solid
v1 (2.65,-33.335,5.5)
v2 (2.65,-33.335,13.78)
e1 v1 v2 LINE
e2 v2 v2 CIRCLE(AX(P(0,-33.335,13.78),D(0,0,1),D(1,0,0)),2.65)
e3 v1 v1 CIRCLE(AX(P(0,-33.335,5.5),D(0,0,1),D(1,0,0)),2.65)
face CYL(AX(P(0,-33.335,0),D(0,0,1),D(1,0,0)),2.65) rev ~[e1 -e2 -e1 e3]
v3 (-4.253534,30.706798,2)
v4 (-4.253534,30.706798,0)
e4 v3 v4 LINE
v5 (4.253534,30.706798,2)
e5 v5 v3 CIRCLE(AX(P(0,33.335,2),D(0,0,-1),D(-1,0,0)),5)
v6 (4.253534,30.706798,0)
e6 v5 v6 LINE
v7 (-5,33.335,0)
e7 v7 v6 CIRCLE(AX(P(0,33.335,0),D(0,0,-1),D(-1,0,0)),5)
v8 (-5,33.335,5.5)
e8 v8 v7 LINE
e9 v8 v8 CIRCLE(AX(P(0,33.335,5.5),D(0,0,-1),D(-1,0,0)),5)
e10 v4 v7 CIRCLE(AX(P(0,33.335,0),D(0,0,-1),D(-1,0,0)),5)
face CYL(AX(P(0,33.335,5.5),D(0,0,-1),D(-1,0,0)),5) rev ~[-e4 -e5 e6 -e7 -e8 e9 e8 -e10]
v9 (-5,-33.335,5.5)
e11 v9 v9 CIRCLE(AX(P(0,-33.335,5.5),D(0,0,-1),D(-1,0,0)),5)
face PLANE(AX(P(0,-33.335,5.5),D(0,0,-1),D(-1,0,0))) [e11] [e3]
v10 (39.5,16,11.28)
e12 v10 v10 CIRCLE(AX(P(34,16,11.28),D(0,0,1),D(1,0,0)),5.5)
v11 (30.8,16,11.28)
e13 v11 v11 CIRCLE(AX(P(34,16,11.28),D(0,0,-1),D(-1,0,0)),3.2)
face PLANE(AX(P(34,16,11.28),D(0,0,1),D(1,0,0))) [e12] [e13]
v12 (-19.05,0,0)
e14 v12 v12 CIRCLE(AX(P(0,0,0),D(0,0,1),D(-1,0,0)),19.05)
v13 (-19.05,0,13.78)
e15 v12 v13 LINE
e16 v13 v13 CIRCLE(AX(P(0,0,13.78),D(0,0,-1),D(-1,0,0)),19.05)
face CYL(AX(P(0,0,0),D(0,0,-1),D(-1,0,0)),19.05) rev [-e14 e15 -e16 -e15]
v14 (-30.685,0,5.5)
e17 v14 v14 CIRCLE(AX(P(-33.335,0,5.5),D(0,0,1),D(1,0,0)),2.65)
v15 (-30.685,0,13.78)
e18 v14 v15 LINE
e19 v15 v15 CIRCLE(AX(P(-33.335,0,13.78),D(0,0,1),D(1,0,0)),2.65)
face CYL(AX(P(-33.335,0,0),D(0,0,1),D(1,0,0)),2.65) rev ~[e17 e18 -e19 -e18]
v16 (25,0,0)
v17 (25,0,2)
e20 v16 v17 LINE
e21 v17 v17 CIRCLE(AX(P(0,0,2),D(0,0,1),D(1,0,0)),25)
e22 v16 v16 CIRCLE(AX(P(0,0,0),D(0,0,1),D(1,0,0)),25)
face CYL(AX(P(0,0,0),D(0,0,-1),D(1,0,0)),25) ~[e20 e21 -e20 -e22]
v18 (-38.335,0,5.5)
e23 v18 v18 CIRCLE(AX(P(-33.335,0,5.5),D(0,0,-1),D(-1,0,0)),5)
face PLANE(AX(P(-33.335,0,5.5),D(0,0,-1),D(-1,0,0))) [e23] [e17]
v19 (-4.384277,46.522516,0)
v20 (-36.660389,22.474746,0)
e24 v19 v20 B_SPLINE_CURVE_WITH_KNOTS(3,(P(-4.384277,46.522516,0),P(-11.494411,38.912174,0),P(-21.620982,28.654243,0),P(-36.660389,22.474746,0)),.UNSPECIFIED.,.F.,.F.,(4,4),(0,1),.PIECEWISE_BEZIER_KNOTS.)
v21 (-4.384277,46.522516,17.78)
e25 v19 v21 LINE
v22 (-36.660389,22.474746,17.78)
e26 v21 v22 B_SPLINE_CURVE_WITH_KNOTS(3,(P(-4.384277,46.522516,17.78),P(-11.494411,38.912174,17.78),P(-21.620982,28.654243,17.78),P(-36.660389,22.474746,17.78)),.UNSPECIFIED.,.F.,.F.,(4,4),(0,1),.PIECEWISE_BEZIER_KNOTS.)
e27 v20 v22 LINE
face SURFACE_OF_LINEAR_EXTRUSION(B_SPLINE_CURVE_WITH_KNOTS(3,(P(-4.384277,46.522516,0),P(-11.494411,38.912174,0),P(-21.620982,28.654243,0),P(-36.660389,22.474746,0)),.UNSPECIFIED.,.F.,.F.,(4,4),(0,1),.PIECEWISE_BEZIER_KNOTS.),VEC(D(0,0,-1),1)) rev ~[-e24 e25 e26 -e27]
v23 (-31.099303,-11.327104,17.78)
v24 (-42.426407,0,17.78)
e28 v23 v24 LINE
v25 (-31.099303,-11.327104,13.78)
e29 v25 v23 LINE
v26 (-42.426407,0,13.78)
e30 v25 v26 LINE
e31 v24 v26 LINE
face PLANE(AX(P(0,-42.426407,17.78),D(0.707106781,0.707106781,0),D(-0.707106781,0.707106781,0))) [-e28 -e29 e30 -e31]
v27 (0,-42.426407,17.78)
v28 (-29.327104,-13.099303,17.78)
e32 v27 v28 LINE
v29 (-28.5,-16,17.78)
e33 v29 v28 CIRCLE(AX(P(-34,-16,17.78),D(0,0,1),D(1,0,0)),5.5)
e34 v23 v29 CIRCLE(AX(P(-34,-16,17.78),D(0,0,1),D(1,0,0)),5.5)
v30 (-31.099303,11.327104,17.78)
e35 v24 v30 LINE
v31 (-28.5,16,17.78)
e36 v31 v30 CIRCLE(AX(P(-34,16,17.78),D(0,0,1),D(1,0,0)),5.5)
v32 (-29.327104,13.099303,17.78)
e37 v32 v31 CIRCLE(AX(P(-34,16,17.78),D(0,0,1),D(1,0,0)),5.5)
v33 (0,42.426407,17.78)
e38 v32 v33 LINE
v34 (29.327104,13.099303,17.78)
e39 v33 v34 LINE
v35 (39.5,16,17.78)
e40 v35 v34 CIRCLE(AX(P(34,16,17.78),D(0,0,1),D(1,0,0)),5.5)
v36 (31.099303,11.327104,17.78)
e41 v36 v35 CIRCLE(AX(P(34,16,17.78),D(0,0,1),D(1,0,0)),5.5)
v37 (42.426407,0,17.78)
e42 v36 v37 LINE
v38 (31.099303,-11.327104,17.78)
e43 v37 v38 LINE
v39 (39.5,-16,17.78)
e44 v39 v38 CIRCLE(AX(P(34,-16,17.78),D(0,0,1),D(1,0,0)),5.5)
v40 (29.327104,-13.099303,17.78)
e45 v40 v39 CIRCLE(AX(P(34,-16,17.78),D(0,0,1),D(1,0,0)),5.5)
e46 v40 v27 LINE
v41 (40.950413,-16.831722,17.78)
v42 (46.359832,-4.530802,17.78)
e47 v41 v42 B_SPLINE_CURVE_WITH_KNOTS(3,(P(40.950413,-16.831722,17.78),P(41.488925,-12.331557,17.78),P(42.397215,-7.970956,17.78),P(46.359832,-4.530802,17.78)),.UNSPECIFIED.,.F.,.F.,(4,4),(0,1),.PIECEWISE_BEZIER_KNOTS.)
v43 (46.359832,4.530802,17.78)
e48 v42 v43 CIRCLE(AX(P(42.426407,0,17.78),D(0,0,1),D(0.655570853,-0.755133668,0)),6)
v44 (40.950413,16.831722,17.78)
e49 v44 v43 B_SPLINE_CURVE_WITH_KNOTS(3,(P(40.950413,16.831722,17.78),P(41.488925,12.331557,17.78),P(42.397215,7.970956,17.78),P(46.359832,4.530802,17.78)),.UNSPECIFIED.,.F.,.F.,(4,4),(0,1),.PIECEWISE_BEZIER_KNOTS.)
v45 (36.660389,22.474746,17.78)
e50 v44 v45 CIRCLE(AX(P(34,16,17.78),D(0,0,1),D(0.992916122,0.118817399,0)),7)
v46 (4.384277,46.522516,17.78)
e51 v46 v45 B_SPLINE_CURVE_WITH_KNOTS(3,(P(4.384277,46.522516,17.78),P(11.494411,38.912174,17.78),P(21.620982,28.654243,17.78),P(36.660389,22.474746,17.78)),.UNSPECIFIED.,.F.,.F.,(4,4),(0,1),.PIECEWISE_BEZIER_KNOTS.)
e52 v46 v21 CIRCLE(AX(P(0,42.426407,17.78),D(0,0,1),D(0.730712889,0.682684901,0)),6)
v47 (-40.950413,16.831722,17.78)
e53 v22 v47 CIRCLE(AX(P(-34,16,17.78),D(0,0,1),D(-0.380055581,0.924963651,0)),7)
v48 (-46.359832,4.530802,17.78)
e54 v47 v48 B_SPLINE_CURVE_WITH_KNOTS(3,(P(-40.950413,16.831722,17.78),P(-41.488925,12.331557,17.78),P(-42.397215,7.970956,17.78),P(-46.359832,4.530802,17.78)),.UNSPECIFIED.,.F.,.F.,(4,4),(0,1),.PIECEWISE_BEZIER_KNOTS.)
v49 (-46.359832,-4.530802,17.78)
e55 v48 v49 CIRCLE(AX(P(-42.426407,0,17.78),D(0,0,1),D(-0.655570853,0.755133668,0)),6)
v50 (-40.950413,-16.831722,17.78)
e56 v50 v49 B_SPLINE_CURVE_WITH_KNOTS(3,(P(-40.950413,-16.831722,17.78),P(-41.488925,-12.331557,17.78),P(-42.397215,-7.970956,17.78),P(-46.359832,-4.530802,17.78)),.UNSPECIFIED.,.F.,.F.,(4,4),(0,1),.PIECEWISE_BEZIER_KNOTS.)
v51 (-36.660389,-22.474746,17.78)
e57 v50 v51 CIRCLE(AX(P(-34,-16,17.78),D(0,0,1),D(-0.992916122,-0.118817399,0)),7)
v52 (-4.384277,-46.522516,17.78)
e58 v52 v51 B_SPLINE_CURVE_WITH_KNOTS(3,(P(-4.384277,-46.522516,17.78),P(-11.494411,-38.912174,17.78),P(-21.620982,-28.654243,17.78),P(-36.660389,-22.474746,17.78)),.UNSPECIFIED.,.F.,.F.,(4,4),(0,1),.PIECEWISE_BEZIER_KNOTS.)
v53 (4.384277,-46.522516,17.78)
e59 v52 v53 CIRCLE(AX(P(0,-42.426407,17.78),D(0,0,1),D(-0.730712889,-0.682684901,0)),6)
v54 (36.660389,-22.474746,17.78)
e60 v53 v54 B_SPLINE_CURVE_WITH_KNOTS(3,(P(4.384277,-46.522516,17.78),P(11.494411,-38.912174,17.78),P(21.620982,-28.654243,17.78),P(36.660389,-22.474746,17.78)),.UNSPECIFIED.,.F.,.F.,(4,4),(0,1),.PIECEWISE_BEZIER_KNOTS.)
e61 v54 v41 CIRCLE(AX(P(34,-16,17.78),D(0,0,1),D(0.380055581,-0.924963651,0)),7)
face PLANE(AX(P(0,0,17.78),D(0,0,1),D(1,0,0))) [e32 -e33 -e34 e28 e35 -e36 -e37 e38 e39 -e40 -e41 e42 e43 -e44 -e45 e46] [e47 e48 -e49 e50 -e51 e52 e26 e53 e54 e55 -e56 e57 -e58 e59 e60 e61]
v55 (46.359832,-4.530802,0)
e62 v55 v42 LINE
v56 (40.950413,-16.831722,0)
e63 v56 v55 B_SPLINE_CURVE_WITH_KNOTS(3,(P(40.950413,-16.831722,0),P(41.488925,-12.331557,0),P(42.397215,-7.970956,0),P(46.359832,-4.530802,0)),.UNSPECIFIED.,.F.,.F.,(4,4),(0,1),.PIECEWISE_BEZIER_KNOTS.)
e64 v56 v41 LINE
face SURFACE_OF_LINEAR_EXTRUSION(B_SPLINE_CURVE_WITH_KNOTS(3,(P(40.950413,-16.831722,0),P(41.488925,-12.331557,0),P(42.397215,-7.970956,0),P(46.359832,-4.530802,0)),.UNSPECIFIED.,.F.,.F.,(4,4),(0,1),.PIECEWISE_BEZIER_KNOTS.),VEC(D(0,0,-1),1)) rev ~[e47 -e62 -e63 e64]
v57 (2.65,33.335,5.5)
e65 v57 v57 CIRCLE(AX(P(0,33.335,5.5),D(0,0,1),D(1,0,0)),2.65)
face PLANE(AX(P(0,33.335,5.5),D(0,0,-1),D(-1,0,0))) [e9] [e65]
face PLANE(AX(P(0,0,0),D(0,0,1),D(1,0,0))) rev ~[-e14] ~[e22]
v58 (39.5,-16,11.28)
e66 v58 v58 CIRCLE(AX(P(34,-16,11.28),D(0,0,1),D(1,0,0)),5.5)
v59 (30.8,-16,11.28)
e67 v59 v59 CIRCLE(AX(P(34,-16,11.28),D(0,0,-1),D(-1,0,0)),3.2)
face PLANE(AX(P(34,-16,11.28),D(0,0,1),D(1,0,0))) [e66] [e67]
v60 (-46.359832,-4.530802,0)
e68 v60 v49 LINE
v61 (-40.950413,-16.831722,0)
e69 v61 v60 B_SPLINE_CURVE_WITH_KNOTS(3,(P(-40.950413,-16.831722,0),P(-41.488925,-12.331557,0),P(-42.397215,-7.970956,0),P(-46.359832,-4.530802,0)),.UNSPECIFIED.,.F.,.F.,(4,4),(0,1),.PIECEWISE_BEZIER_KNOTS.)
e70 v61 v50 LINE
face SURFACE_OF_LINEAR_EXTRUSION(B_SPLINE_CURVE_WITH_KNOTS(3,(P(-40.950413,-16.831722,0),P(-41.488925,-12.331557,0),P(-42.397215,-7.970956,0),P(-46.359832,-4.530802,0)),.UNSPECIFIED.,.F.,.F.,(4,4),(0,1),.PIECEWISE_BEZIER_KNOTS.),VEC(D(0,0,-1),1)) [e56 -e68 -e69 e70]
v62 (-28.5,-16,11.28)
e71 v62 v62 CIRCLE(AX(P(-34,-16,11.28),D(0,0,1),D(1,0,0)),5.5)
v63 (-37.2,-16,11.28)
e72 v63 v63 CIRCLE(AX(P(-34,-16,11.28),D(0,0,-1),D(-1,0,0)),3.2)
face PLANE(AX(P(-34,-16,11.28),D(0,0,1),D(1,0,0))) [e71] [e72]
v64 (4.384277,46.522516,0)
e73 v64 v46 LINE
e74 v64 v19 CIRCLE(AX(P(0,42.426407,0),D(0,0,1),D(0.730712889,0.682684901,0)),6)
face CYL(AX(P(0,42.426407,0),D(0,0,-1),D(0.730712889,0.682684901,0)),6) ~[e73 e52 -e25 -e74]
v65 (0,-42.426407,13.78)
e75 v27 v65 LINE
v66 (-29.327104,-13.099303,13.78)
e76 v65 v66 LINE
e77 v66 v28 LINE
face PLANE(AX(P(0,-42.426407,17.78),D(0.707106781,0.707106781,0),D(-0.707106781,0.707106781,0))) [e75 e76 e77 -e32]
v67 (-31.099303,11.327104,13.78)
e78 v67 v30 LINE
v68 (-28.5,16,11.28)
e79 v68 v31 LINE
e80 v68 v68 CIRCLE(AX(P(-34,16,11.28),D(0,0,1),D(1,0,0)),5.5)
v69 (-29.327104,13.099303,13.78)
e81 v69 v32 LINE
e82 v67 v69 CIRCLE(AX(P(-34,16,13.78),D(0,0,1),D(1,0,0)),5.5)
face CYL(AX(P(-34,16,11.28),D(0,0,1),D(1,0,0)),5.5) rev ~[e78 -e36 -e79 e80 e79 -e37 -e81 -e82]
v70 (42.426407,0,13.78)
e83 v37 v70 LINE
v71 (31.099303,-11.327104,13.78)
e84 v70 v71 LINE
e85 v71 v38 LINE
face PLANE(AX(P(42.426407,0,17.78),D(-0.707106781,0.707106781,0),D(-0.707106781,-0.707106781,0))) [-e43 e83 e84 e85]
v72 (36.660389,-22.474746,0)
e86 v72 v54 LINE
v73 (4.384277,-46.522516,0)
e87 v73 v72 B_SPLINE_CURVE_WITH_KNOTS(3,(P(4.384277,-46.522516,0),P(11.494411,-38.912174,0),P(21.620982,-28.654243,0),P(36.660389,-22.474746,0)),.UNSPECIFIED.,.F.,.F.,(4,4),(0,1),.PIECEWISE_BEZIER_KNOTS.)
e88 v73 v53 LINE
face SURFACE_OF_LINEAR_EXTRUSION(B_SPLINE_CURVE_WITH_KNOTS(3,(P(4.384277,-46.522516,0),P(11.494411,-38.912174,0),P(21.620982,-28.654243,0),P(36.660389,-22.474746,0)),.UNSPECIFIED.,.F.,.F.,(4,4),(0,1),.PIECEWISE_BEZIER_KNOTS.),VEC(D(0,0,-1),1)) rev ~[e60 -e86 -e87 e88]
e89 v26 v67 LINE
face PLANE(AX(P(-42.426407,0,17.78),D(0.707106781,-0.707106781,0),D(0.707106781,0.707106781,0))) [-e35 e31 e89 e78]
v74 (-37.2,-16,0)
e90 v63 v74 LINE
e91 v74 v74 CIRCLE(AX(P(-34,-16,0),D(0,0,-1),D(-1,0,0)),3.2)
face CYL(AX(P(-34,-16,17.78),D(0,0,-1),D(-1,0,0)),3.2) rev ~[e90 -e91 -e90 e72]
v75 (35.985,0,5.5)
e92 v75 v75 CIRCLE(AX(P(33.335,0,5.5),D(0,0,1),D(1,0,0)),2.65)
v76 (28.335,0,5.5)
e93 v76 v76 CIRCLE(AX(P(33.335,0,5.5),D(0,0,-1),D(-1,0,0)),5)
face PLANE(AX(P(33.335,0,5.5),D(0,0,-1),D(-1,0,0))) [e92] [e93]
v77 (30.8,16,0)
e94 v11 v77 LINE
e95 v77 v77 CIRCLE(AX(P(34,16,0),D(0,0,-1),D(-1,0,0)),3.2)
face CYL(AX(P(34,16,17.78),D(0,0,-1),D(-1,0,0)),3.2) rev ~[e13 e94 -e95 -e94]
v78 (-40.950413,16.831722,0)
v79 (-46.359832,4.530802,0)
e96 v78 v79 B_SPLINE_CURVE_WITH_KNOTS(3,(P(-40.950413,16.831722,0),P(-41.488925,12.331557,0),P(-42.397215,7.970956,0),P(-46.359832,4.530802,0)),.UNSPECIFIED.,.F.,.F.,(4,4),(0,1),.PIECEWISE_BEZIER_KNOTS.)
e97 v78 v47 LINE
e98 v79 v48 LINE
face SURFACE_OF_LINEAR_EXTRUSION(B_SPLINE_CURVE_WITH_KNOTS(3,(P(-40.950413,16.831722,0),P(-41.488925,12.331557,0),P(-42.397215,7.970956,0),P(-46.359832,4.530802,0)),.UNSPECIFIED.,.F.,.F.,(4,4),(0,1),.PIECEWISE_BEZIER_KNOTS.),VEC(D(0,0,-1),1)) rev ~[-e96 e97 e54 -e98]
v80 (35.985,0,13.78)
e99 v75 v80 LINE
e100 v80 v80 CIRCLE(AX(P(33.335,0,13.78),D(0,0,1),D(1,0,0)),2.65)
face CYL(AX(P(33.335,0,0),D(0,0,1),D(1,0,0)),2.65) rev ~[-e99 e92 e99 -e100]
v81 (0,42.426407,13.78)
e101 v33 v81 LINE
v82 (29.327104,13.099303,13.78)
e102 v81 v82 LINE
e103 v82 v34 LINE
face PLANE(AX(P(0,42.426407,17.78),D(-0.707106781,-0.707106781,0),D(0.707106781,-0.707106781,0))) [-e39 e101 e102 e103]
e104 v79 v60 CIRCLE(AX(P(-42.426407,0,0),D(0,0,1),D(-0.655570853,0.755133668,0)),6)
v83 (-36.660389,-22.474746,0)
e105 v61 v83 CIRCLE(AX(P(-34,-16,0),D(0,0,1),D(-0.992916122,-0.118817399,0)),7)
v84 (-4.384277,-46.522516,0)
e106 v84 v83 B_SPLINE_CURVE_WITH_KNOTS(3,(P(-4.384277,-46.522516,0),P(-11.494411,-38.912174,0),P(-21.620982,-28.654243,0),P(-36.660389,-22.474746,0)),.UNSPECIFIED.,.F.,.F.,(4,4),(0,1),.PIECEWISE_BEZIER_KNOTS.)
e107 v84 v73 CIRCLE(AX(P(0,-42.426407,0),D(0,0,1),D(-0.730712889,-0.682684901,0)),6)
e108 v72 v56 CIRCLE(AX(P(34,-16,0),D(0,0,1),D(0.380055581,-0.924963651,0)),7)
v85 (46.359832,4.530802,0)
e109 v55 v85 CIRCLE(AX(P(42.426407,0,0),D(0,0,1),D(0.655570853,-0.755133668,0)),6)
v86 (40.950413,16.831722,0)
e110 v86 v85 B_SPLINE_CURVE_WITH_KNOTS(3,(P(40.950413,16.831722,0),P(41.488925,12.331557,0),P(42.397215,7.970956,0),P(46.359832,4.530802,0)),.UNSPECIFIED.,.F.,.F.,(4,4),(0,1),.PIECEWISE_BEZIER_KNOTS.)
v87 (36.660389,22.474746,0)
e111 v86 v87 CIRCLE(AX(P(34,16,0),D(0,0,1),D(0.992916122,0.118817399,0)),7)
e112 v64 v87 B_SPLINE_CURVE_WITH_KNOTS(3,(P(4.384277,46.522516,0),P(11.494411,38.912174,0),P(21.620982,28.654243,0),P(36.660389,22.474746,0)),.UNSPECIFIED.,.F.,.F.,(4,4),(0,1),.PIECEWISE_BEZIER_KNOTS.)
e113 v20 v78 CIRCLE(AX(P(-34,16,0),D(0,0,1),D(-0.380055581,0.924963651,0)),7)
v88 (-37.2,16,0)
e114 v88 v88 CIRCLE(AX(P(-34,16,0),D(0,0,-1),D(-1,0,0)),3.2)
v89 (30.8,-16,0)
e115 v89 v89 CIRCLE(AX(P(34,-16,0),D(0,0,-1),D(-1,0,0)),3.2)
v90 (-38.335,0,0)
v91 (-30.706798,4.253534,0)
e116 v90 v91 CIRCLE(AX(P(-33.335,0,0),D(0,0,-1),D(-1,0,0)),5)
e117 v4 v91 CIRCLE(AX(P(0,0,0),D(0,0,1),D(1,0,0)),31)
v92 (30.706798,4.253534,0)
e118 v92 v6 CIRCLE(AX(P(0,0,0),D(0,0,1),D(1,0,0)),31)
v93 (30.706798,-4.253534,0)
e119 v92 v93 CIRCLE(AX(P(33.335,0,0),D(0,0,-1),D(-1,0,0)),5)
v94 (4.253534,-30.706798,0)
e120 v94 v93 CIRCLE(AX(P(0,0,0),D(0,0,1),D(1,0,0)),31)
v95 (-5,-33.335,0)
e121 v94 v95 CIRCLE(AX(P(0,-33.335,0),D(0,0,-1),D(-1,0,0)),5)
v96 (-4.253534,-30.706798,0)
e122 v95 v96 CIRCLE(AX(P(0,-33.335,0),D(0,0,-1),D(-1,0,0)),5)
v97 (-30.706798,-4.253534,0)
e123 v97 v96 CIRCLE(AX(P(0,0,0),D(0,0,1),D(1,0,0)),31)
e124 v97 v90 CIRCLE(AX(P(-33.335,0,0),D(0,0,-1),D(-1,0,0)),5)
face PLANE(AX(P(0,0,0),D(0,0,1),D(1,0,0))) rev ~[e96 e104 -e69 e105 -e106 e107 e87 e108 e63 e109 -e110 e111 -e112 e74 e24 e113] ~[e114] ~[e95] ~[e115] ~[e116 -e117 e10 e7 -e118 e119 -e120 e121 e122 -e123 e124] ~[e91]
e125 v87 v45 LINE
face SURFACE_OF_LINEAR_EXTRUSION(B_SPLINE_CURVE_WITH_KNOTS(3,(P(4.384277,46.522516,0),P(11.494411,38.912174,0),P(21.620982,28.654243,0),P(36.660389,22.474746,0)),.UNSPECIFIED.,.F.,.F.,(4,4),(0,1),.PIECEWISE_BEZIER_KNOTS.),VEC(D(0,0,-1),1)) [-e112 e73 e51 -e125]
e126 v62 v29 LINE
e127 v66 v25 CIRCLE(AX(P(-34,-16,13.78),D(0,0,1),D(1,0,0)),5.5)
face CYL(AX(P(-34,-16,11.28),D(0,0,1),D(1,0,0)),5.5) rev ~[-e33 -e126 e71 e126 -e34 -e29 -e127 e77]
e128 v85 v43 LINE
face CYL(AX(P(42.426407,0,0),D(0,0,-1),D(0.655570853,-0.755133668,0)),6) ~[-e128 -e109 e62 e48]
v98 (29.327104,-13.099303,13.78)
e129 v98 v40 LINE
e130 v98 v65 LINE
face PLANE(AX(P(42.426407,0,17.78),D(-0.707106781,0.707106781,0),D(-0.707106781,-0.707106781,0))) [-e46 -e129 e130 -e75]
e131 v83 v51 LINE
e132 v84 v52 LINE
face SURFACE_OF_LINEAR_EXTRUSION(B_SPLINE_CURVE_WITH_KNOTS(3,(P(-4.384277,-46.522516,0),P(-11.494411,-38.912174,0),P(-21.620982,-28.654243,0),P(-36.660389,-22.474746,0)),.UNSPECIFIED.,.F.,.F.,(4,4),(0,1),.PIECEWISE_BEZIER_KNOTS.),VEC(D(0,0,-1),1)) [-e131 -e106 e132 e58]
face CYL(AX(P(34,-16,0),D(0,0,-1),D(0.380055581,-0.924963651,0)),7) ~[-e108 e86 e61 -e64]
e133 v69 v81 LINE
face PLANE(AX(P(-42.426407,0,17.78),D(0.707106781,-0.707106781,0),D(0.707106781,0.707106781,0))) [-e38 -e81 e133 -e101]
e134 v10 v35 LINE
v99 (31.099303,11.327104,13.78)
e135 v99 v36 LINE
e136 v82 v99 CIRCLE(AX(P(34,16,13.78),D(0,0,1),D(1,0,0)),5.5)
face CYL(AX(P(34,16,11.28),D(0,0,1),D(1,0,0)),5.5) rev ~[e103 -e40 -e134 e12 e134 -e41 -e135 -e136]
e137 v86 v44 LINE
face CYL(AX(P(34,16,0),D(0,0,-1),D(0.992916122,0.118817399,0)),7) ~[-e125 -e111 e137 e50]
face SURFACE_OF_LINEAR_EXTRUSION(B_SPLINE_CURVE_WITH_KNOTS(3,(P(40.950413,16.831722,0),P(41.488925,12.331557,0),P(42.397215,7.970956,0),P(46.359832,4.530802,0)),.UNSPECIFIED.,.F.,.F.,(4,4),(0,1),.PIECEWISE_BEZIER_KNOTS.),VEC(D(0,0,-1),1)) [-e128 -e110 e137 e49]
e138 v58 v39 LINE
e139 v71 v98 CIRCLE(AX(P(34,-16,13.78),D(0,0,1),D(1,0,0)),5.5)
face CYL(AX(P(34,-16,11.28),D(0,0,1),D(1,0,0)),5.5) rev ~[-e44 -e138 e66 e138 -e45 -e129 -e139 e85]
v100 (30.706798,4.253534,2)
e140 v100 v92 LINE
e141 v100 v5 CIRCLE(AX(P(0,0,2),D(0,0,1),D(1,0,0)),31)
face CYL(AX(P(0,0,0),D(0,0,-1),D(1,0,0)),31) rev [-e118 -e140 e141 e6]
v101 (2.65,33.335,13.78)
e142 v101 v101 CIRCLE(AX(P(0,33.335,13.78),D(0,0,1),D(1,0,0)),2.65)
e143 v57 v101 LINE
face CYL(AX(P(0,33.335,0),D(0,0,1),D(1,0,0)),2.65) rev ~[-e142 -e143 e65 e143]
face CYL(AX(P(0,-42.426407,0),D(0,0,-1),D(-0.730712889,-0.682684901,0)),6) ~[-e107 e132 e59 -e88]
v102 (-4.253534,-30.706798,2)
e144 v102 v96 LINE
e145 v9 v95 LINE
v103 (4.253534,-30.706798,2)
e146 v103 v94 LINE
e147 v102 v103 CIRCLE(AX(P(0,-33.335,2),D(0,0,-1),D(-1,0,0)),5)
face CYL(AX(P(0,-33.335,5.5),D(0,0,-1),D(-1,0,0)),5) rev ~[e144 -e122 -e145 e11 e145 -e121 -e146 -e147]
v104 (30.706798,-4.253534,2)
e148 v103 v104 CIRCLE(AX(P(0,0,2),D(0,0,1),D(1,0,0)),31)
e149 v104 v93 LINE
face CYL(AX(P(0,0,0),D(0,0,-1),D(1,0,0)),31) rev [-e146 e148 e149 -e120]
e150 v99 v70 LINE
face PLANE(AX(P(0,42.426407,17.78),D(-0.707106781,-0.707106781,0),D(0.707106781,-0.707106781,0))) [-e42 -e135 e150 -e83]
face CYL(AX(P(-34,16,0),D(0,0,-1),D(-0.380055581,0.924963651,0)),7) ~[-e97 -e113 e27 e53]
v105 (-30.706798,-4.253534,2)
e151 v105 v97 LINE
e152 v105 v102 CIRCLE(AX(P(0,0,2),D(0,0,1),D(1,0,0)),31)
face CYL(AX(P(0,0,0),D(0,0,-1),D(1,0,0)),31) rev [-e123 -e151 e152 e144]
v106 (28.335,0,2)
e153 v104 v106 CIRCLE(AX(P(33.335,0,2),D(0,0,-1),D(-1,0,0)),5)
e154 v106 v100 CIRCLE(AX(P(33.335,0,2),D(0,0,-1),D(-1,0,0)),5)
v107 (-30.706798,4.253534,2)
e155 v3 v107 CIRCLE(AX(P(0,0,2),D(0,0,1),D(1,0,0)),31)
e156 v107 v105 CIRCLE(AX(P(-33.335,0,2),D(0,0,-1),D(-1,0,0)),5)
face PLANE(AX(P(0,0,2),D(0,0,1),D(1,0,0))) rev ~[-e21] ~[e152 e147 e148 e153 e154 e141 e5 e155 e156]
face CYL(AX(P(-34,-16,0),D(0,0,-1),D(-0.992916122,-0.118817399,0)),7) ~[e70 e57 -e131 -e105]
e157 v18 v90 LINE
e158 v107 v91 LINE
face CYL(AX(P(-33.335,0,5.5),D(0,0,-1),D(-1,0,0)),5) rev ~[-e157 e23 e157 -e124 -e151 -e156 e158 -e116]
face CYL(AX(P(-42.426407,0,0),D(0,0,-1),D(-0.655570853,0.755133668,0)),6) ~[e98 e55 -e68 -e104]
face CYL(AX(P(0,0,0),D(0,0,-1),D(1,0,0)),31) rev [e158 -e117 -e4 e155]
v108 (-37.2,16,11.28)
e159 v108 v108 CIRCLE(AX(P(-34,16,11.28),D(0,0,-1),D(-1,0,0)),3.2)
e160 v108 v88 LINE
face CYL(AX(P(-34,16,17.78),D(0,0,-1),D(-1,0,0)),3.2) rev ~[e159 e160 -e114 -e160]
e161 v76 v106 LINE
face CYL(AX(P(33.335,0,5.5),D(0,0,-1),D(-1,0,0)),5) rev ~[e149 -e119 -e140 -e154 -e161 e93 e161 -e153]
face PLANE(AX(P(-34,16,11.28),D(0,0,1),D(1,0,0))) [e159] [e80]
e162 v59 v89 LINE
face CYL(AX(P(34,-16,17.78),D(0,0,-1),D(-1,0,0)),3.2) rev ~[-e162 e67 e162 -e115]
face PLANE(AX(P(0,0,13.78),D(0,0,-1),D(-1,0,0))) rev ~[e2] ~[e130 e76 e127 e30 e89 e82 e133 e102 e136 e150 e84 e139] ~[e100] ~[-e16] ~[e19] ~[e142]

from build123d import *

# Parameters (mm, degrees)
MAIN_FEATURES_SKETCH_R         = 19.05
MAIN_BODY_DEPTH                = 17.78
SKETCH1_8_R                    = 31
SKETCH1_8_R_2                  = 25
RING_POCKET_DEPTH              = 2
CBORE_FOR_M6_SHCS1_D           = 6.4
CBORE_FOR_M6_SHCS1_CBORE_D     = 11
CBORE_FOR_M6_SHCS1_CBORE_DEPTH = 6.5
CBORE_FOR_M5_SHCS1_D           = 5.3
CBORE_FOR_M5_SHCS1_CBORE_D     = 10
CBORE_FOR_M5_SHCS1_CBORE_DEPTH = 5.5
CUT_EXTRUDE5_START             = 17.78
CUT_EXTRUDE5_DEPTH             = 4


with BuildPart() as part:
    # main_features_sketch → main_body (new body)
    with BuildSketch(Plane.XY):
        with BuildLine():
            add(Edge.make_bspline(
                [(4.384277331, -46.522516279), (11.494410565, -38.912173671), (21.620981626, -28.654243233), (36.660389066, -22.474745556)],
                knots=[0, 0, 0, 0, 1, 1, 1, 1], degree=3))
            ThreePointArc((36.660389066, -22.474745556), (39.572504615, -20.236412671), (40.950412855, -16.831721795))
            add(Edge.make_bspline(
                [(40.950412855, -16.831721795), (41.488925466, -12.331557199), (42.397215407, -7.970955774), (46.359831988, -4.530802009)],
                knots=[0, 0, 0, 0, 1, 1, 1, 1], degree=3))
            ThreePointArc((46.359831988, -4.530802009), (48.426406871, 0), (46.359831988, 4.530802009))
            add(Edge.make_bspline(
                [(40.950412855, 16.831721795), (41.488925466, 12.331557199), (42.397215407, 7.970955774), (46.359831988, 4.530802009)],
                knots=[0, 0, 0, 0, 1, 1, 1, 1], degree=3))
            ThreePointArc((40.950412855, 16.831721795), (39.572504615, 20.236412671), (36.660389066, 22.474745556))
            add(Edge.make_bspline(
                [(4.384277331, 46.522516279), (11.494410565, 38.912173671), (21.620981626, 28.654243233), (36.660389066, 22.474745556)],
                knots=[0, 0, 0, 0, 1, 1, 1, 1], degree=3))
            ThreePointArc((4.384277331, 46.522516279), (0, 48.426406871), (-4.384277331, 46.522516279))
            add(Edge.make_bspline(
                [(-4.384277331, 46.522516279), (-11.494410565, 38.912173671), (-21.620981626, 28.654243233), (-36.660389066, 22.474745556)],
                knots=[0, 0, 0, 0, 1, 1, 1, 1], degree=3))
            ThreePointArc((-36.660389066, 22.474745556), (-39.572504615, 20.236412671), (-40.950412855, 16.831721795))
            add(Edge.make_bspline(
                [(-40.950412855, 16.831721795), (-41.488925466, 12.331557199), (-42.397215407, 7.970955774), (-46.359831988, 4.530802009)],
                knots=[0, 0, 0, 0, 1, 1, 1, 1], degree=3))
            ThreePointArc((-46.359831988, 4.530802009), (-48.426406871, 0), (-46.359831988, -4.530802009))
            add(Edge.make_bspline(
                [(-40.950412855, -16.831721795), (-41.488925466, -12.331557199), (-42.397215407, -7.970955774), (-46.359831988, -4.530802009)],
                knots=[0, 0, 0, 0, 1, 1, 1, 1], degree=3))
            ThreePointArc((-40.950412855, -16.831721795), (-39.572504615, -20.236412671), (-36.660389066, -22.474745556))
            add(Edge.make_bspline(
                [(-4.384277331, -46.522516279), (-11.494410565, -38.912173671), (-21.620981626, -28.654243233), (-36.660389066, -22.474745556)],
                knots=[0, 0, 0, 0, 1, 1, 1, 1], degree=3))
            ThreePointArc((-4.384277331, -46.522516279), (0, -48.426406871), (4.384277331, -46.522516279))
        make_face()
        with Locations(Location((0, 0, 0), (0, 0, 180))):
            Circle(MAIN_FEATURES_SKETCH_R, mode=Mode.SUBTRACT)
    extrude(amount=MAIN_BODY_DEPTH)

    # Sketch1<8> → ring_pocket (cut)
    with BuildSketch(Plane.XY):
        Circle(SKETCH1_8_R)
        Circle(SKETCH1_8_R_2, mode=Mode.SUBTRACT)
    extrude(amount=RING_POCKET_DEPTH, mode=Mode.SUBTRACT)

    # CBORE for M6 SHCS1 (through all)
    with Locations(Plane.XY.offset(17.78)):
        with Locations((-34, 16), (-34, -16), (34, -16), (34, 16)):
            CounterBoreHole(CBORE_FOR_M6_SHCS1_D / 2, CBORE_FOR_M6_SHCS1_CBORE_D / 2, CBORE_FOR_M6_SHCS1_CBORE_DEPTH)

    # CBORE for M5 SHCS1 (through all)
    with Locations(Plane(origin=(0, 0, 0), x_dir=(-1, 0, 0), z_dir=(0, 0, -1))):
        with Locations((0, 33.335), (33.335, 0), (0, -33.335), (-33.335, 0)):
            CounterBoreHole(CBORE_FOR_M5_SHCS1_D / 2, CBORE_FOR_M5_SHCS1_CBORE_D / 2, CBORE_FOR_M5_SHCS1_CBORE_DEPTH)

    # main_features_sketch<9> → Cut-Extrude5 (cut)
    with BuildSketch(Plane.XY.offset(CUT_EXTRUDE5_START)):
        Polygon((0, 42.426406871), (42.426406871, 0), (0, -42.426406871), (-42.426406871, 0), align=None)
    extrude(amount=-CUT_EXTRUDE5_DEPTH, mode=Mode.SUBTRACT)


solid = part.part
